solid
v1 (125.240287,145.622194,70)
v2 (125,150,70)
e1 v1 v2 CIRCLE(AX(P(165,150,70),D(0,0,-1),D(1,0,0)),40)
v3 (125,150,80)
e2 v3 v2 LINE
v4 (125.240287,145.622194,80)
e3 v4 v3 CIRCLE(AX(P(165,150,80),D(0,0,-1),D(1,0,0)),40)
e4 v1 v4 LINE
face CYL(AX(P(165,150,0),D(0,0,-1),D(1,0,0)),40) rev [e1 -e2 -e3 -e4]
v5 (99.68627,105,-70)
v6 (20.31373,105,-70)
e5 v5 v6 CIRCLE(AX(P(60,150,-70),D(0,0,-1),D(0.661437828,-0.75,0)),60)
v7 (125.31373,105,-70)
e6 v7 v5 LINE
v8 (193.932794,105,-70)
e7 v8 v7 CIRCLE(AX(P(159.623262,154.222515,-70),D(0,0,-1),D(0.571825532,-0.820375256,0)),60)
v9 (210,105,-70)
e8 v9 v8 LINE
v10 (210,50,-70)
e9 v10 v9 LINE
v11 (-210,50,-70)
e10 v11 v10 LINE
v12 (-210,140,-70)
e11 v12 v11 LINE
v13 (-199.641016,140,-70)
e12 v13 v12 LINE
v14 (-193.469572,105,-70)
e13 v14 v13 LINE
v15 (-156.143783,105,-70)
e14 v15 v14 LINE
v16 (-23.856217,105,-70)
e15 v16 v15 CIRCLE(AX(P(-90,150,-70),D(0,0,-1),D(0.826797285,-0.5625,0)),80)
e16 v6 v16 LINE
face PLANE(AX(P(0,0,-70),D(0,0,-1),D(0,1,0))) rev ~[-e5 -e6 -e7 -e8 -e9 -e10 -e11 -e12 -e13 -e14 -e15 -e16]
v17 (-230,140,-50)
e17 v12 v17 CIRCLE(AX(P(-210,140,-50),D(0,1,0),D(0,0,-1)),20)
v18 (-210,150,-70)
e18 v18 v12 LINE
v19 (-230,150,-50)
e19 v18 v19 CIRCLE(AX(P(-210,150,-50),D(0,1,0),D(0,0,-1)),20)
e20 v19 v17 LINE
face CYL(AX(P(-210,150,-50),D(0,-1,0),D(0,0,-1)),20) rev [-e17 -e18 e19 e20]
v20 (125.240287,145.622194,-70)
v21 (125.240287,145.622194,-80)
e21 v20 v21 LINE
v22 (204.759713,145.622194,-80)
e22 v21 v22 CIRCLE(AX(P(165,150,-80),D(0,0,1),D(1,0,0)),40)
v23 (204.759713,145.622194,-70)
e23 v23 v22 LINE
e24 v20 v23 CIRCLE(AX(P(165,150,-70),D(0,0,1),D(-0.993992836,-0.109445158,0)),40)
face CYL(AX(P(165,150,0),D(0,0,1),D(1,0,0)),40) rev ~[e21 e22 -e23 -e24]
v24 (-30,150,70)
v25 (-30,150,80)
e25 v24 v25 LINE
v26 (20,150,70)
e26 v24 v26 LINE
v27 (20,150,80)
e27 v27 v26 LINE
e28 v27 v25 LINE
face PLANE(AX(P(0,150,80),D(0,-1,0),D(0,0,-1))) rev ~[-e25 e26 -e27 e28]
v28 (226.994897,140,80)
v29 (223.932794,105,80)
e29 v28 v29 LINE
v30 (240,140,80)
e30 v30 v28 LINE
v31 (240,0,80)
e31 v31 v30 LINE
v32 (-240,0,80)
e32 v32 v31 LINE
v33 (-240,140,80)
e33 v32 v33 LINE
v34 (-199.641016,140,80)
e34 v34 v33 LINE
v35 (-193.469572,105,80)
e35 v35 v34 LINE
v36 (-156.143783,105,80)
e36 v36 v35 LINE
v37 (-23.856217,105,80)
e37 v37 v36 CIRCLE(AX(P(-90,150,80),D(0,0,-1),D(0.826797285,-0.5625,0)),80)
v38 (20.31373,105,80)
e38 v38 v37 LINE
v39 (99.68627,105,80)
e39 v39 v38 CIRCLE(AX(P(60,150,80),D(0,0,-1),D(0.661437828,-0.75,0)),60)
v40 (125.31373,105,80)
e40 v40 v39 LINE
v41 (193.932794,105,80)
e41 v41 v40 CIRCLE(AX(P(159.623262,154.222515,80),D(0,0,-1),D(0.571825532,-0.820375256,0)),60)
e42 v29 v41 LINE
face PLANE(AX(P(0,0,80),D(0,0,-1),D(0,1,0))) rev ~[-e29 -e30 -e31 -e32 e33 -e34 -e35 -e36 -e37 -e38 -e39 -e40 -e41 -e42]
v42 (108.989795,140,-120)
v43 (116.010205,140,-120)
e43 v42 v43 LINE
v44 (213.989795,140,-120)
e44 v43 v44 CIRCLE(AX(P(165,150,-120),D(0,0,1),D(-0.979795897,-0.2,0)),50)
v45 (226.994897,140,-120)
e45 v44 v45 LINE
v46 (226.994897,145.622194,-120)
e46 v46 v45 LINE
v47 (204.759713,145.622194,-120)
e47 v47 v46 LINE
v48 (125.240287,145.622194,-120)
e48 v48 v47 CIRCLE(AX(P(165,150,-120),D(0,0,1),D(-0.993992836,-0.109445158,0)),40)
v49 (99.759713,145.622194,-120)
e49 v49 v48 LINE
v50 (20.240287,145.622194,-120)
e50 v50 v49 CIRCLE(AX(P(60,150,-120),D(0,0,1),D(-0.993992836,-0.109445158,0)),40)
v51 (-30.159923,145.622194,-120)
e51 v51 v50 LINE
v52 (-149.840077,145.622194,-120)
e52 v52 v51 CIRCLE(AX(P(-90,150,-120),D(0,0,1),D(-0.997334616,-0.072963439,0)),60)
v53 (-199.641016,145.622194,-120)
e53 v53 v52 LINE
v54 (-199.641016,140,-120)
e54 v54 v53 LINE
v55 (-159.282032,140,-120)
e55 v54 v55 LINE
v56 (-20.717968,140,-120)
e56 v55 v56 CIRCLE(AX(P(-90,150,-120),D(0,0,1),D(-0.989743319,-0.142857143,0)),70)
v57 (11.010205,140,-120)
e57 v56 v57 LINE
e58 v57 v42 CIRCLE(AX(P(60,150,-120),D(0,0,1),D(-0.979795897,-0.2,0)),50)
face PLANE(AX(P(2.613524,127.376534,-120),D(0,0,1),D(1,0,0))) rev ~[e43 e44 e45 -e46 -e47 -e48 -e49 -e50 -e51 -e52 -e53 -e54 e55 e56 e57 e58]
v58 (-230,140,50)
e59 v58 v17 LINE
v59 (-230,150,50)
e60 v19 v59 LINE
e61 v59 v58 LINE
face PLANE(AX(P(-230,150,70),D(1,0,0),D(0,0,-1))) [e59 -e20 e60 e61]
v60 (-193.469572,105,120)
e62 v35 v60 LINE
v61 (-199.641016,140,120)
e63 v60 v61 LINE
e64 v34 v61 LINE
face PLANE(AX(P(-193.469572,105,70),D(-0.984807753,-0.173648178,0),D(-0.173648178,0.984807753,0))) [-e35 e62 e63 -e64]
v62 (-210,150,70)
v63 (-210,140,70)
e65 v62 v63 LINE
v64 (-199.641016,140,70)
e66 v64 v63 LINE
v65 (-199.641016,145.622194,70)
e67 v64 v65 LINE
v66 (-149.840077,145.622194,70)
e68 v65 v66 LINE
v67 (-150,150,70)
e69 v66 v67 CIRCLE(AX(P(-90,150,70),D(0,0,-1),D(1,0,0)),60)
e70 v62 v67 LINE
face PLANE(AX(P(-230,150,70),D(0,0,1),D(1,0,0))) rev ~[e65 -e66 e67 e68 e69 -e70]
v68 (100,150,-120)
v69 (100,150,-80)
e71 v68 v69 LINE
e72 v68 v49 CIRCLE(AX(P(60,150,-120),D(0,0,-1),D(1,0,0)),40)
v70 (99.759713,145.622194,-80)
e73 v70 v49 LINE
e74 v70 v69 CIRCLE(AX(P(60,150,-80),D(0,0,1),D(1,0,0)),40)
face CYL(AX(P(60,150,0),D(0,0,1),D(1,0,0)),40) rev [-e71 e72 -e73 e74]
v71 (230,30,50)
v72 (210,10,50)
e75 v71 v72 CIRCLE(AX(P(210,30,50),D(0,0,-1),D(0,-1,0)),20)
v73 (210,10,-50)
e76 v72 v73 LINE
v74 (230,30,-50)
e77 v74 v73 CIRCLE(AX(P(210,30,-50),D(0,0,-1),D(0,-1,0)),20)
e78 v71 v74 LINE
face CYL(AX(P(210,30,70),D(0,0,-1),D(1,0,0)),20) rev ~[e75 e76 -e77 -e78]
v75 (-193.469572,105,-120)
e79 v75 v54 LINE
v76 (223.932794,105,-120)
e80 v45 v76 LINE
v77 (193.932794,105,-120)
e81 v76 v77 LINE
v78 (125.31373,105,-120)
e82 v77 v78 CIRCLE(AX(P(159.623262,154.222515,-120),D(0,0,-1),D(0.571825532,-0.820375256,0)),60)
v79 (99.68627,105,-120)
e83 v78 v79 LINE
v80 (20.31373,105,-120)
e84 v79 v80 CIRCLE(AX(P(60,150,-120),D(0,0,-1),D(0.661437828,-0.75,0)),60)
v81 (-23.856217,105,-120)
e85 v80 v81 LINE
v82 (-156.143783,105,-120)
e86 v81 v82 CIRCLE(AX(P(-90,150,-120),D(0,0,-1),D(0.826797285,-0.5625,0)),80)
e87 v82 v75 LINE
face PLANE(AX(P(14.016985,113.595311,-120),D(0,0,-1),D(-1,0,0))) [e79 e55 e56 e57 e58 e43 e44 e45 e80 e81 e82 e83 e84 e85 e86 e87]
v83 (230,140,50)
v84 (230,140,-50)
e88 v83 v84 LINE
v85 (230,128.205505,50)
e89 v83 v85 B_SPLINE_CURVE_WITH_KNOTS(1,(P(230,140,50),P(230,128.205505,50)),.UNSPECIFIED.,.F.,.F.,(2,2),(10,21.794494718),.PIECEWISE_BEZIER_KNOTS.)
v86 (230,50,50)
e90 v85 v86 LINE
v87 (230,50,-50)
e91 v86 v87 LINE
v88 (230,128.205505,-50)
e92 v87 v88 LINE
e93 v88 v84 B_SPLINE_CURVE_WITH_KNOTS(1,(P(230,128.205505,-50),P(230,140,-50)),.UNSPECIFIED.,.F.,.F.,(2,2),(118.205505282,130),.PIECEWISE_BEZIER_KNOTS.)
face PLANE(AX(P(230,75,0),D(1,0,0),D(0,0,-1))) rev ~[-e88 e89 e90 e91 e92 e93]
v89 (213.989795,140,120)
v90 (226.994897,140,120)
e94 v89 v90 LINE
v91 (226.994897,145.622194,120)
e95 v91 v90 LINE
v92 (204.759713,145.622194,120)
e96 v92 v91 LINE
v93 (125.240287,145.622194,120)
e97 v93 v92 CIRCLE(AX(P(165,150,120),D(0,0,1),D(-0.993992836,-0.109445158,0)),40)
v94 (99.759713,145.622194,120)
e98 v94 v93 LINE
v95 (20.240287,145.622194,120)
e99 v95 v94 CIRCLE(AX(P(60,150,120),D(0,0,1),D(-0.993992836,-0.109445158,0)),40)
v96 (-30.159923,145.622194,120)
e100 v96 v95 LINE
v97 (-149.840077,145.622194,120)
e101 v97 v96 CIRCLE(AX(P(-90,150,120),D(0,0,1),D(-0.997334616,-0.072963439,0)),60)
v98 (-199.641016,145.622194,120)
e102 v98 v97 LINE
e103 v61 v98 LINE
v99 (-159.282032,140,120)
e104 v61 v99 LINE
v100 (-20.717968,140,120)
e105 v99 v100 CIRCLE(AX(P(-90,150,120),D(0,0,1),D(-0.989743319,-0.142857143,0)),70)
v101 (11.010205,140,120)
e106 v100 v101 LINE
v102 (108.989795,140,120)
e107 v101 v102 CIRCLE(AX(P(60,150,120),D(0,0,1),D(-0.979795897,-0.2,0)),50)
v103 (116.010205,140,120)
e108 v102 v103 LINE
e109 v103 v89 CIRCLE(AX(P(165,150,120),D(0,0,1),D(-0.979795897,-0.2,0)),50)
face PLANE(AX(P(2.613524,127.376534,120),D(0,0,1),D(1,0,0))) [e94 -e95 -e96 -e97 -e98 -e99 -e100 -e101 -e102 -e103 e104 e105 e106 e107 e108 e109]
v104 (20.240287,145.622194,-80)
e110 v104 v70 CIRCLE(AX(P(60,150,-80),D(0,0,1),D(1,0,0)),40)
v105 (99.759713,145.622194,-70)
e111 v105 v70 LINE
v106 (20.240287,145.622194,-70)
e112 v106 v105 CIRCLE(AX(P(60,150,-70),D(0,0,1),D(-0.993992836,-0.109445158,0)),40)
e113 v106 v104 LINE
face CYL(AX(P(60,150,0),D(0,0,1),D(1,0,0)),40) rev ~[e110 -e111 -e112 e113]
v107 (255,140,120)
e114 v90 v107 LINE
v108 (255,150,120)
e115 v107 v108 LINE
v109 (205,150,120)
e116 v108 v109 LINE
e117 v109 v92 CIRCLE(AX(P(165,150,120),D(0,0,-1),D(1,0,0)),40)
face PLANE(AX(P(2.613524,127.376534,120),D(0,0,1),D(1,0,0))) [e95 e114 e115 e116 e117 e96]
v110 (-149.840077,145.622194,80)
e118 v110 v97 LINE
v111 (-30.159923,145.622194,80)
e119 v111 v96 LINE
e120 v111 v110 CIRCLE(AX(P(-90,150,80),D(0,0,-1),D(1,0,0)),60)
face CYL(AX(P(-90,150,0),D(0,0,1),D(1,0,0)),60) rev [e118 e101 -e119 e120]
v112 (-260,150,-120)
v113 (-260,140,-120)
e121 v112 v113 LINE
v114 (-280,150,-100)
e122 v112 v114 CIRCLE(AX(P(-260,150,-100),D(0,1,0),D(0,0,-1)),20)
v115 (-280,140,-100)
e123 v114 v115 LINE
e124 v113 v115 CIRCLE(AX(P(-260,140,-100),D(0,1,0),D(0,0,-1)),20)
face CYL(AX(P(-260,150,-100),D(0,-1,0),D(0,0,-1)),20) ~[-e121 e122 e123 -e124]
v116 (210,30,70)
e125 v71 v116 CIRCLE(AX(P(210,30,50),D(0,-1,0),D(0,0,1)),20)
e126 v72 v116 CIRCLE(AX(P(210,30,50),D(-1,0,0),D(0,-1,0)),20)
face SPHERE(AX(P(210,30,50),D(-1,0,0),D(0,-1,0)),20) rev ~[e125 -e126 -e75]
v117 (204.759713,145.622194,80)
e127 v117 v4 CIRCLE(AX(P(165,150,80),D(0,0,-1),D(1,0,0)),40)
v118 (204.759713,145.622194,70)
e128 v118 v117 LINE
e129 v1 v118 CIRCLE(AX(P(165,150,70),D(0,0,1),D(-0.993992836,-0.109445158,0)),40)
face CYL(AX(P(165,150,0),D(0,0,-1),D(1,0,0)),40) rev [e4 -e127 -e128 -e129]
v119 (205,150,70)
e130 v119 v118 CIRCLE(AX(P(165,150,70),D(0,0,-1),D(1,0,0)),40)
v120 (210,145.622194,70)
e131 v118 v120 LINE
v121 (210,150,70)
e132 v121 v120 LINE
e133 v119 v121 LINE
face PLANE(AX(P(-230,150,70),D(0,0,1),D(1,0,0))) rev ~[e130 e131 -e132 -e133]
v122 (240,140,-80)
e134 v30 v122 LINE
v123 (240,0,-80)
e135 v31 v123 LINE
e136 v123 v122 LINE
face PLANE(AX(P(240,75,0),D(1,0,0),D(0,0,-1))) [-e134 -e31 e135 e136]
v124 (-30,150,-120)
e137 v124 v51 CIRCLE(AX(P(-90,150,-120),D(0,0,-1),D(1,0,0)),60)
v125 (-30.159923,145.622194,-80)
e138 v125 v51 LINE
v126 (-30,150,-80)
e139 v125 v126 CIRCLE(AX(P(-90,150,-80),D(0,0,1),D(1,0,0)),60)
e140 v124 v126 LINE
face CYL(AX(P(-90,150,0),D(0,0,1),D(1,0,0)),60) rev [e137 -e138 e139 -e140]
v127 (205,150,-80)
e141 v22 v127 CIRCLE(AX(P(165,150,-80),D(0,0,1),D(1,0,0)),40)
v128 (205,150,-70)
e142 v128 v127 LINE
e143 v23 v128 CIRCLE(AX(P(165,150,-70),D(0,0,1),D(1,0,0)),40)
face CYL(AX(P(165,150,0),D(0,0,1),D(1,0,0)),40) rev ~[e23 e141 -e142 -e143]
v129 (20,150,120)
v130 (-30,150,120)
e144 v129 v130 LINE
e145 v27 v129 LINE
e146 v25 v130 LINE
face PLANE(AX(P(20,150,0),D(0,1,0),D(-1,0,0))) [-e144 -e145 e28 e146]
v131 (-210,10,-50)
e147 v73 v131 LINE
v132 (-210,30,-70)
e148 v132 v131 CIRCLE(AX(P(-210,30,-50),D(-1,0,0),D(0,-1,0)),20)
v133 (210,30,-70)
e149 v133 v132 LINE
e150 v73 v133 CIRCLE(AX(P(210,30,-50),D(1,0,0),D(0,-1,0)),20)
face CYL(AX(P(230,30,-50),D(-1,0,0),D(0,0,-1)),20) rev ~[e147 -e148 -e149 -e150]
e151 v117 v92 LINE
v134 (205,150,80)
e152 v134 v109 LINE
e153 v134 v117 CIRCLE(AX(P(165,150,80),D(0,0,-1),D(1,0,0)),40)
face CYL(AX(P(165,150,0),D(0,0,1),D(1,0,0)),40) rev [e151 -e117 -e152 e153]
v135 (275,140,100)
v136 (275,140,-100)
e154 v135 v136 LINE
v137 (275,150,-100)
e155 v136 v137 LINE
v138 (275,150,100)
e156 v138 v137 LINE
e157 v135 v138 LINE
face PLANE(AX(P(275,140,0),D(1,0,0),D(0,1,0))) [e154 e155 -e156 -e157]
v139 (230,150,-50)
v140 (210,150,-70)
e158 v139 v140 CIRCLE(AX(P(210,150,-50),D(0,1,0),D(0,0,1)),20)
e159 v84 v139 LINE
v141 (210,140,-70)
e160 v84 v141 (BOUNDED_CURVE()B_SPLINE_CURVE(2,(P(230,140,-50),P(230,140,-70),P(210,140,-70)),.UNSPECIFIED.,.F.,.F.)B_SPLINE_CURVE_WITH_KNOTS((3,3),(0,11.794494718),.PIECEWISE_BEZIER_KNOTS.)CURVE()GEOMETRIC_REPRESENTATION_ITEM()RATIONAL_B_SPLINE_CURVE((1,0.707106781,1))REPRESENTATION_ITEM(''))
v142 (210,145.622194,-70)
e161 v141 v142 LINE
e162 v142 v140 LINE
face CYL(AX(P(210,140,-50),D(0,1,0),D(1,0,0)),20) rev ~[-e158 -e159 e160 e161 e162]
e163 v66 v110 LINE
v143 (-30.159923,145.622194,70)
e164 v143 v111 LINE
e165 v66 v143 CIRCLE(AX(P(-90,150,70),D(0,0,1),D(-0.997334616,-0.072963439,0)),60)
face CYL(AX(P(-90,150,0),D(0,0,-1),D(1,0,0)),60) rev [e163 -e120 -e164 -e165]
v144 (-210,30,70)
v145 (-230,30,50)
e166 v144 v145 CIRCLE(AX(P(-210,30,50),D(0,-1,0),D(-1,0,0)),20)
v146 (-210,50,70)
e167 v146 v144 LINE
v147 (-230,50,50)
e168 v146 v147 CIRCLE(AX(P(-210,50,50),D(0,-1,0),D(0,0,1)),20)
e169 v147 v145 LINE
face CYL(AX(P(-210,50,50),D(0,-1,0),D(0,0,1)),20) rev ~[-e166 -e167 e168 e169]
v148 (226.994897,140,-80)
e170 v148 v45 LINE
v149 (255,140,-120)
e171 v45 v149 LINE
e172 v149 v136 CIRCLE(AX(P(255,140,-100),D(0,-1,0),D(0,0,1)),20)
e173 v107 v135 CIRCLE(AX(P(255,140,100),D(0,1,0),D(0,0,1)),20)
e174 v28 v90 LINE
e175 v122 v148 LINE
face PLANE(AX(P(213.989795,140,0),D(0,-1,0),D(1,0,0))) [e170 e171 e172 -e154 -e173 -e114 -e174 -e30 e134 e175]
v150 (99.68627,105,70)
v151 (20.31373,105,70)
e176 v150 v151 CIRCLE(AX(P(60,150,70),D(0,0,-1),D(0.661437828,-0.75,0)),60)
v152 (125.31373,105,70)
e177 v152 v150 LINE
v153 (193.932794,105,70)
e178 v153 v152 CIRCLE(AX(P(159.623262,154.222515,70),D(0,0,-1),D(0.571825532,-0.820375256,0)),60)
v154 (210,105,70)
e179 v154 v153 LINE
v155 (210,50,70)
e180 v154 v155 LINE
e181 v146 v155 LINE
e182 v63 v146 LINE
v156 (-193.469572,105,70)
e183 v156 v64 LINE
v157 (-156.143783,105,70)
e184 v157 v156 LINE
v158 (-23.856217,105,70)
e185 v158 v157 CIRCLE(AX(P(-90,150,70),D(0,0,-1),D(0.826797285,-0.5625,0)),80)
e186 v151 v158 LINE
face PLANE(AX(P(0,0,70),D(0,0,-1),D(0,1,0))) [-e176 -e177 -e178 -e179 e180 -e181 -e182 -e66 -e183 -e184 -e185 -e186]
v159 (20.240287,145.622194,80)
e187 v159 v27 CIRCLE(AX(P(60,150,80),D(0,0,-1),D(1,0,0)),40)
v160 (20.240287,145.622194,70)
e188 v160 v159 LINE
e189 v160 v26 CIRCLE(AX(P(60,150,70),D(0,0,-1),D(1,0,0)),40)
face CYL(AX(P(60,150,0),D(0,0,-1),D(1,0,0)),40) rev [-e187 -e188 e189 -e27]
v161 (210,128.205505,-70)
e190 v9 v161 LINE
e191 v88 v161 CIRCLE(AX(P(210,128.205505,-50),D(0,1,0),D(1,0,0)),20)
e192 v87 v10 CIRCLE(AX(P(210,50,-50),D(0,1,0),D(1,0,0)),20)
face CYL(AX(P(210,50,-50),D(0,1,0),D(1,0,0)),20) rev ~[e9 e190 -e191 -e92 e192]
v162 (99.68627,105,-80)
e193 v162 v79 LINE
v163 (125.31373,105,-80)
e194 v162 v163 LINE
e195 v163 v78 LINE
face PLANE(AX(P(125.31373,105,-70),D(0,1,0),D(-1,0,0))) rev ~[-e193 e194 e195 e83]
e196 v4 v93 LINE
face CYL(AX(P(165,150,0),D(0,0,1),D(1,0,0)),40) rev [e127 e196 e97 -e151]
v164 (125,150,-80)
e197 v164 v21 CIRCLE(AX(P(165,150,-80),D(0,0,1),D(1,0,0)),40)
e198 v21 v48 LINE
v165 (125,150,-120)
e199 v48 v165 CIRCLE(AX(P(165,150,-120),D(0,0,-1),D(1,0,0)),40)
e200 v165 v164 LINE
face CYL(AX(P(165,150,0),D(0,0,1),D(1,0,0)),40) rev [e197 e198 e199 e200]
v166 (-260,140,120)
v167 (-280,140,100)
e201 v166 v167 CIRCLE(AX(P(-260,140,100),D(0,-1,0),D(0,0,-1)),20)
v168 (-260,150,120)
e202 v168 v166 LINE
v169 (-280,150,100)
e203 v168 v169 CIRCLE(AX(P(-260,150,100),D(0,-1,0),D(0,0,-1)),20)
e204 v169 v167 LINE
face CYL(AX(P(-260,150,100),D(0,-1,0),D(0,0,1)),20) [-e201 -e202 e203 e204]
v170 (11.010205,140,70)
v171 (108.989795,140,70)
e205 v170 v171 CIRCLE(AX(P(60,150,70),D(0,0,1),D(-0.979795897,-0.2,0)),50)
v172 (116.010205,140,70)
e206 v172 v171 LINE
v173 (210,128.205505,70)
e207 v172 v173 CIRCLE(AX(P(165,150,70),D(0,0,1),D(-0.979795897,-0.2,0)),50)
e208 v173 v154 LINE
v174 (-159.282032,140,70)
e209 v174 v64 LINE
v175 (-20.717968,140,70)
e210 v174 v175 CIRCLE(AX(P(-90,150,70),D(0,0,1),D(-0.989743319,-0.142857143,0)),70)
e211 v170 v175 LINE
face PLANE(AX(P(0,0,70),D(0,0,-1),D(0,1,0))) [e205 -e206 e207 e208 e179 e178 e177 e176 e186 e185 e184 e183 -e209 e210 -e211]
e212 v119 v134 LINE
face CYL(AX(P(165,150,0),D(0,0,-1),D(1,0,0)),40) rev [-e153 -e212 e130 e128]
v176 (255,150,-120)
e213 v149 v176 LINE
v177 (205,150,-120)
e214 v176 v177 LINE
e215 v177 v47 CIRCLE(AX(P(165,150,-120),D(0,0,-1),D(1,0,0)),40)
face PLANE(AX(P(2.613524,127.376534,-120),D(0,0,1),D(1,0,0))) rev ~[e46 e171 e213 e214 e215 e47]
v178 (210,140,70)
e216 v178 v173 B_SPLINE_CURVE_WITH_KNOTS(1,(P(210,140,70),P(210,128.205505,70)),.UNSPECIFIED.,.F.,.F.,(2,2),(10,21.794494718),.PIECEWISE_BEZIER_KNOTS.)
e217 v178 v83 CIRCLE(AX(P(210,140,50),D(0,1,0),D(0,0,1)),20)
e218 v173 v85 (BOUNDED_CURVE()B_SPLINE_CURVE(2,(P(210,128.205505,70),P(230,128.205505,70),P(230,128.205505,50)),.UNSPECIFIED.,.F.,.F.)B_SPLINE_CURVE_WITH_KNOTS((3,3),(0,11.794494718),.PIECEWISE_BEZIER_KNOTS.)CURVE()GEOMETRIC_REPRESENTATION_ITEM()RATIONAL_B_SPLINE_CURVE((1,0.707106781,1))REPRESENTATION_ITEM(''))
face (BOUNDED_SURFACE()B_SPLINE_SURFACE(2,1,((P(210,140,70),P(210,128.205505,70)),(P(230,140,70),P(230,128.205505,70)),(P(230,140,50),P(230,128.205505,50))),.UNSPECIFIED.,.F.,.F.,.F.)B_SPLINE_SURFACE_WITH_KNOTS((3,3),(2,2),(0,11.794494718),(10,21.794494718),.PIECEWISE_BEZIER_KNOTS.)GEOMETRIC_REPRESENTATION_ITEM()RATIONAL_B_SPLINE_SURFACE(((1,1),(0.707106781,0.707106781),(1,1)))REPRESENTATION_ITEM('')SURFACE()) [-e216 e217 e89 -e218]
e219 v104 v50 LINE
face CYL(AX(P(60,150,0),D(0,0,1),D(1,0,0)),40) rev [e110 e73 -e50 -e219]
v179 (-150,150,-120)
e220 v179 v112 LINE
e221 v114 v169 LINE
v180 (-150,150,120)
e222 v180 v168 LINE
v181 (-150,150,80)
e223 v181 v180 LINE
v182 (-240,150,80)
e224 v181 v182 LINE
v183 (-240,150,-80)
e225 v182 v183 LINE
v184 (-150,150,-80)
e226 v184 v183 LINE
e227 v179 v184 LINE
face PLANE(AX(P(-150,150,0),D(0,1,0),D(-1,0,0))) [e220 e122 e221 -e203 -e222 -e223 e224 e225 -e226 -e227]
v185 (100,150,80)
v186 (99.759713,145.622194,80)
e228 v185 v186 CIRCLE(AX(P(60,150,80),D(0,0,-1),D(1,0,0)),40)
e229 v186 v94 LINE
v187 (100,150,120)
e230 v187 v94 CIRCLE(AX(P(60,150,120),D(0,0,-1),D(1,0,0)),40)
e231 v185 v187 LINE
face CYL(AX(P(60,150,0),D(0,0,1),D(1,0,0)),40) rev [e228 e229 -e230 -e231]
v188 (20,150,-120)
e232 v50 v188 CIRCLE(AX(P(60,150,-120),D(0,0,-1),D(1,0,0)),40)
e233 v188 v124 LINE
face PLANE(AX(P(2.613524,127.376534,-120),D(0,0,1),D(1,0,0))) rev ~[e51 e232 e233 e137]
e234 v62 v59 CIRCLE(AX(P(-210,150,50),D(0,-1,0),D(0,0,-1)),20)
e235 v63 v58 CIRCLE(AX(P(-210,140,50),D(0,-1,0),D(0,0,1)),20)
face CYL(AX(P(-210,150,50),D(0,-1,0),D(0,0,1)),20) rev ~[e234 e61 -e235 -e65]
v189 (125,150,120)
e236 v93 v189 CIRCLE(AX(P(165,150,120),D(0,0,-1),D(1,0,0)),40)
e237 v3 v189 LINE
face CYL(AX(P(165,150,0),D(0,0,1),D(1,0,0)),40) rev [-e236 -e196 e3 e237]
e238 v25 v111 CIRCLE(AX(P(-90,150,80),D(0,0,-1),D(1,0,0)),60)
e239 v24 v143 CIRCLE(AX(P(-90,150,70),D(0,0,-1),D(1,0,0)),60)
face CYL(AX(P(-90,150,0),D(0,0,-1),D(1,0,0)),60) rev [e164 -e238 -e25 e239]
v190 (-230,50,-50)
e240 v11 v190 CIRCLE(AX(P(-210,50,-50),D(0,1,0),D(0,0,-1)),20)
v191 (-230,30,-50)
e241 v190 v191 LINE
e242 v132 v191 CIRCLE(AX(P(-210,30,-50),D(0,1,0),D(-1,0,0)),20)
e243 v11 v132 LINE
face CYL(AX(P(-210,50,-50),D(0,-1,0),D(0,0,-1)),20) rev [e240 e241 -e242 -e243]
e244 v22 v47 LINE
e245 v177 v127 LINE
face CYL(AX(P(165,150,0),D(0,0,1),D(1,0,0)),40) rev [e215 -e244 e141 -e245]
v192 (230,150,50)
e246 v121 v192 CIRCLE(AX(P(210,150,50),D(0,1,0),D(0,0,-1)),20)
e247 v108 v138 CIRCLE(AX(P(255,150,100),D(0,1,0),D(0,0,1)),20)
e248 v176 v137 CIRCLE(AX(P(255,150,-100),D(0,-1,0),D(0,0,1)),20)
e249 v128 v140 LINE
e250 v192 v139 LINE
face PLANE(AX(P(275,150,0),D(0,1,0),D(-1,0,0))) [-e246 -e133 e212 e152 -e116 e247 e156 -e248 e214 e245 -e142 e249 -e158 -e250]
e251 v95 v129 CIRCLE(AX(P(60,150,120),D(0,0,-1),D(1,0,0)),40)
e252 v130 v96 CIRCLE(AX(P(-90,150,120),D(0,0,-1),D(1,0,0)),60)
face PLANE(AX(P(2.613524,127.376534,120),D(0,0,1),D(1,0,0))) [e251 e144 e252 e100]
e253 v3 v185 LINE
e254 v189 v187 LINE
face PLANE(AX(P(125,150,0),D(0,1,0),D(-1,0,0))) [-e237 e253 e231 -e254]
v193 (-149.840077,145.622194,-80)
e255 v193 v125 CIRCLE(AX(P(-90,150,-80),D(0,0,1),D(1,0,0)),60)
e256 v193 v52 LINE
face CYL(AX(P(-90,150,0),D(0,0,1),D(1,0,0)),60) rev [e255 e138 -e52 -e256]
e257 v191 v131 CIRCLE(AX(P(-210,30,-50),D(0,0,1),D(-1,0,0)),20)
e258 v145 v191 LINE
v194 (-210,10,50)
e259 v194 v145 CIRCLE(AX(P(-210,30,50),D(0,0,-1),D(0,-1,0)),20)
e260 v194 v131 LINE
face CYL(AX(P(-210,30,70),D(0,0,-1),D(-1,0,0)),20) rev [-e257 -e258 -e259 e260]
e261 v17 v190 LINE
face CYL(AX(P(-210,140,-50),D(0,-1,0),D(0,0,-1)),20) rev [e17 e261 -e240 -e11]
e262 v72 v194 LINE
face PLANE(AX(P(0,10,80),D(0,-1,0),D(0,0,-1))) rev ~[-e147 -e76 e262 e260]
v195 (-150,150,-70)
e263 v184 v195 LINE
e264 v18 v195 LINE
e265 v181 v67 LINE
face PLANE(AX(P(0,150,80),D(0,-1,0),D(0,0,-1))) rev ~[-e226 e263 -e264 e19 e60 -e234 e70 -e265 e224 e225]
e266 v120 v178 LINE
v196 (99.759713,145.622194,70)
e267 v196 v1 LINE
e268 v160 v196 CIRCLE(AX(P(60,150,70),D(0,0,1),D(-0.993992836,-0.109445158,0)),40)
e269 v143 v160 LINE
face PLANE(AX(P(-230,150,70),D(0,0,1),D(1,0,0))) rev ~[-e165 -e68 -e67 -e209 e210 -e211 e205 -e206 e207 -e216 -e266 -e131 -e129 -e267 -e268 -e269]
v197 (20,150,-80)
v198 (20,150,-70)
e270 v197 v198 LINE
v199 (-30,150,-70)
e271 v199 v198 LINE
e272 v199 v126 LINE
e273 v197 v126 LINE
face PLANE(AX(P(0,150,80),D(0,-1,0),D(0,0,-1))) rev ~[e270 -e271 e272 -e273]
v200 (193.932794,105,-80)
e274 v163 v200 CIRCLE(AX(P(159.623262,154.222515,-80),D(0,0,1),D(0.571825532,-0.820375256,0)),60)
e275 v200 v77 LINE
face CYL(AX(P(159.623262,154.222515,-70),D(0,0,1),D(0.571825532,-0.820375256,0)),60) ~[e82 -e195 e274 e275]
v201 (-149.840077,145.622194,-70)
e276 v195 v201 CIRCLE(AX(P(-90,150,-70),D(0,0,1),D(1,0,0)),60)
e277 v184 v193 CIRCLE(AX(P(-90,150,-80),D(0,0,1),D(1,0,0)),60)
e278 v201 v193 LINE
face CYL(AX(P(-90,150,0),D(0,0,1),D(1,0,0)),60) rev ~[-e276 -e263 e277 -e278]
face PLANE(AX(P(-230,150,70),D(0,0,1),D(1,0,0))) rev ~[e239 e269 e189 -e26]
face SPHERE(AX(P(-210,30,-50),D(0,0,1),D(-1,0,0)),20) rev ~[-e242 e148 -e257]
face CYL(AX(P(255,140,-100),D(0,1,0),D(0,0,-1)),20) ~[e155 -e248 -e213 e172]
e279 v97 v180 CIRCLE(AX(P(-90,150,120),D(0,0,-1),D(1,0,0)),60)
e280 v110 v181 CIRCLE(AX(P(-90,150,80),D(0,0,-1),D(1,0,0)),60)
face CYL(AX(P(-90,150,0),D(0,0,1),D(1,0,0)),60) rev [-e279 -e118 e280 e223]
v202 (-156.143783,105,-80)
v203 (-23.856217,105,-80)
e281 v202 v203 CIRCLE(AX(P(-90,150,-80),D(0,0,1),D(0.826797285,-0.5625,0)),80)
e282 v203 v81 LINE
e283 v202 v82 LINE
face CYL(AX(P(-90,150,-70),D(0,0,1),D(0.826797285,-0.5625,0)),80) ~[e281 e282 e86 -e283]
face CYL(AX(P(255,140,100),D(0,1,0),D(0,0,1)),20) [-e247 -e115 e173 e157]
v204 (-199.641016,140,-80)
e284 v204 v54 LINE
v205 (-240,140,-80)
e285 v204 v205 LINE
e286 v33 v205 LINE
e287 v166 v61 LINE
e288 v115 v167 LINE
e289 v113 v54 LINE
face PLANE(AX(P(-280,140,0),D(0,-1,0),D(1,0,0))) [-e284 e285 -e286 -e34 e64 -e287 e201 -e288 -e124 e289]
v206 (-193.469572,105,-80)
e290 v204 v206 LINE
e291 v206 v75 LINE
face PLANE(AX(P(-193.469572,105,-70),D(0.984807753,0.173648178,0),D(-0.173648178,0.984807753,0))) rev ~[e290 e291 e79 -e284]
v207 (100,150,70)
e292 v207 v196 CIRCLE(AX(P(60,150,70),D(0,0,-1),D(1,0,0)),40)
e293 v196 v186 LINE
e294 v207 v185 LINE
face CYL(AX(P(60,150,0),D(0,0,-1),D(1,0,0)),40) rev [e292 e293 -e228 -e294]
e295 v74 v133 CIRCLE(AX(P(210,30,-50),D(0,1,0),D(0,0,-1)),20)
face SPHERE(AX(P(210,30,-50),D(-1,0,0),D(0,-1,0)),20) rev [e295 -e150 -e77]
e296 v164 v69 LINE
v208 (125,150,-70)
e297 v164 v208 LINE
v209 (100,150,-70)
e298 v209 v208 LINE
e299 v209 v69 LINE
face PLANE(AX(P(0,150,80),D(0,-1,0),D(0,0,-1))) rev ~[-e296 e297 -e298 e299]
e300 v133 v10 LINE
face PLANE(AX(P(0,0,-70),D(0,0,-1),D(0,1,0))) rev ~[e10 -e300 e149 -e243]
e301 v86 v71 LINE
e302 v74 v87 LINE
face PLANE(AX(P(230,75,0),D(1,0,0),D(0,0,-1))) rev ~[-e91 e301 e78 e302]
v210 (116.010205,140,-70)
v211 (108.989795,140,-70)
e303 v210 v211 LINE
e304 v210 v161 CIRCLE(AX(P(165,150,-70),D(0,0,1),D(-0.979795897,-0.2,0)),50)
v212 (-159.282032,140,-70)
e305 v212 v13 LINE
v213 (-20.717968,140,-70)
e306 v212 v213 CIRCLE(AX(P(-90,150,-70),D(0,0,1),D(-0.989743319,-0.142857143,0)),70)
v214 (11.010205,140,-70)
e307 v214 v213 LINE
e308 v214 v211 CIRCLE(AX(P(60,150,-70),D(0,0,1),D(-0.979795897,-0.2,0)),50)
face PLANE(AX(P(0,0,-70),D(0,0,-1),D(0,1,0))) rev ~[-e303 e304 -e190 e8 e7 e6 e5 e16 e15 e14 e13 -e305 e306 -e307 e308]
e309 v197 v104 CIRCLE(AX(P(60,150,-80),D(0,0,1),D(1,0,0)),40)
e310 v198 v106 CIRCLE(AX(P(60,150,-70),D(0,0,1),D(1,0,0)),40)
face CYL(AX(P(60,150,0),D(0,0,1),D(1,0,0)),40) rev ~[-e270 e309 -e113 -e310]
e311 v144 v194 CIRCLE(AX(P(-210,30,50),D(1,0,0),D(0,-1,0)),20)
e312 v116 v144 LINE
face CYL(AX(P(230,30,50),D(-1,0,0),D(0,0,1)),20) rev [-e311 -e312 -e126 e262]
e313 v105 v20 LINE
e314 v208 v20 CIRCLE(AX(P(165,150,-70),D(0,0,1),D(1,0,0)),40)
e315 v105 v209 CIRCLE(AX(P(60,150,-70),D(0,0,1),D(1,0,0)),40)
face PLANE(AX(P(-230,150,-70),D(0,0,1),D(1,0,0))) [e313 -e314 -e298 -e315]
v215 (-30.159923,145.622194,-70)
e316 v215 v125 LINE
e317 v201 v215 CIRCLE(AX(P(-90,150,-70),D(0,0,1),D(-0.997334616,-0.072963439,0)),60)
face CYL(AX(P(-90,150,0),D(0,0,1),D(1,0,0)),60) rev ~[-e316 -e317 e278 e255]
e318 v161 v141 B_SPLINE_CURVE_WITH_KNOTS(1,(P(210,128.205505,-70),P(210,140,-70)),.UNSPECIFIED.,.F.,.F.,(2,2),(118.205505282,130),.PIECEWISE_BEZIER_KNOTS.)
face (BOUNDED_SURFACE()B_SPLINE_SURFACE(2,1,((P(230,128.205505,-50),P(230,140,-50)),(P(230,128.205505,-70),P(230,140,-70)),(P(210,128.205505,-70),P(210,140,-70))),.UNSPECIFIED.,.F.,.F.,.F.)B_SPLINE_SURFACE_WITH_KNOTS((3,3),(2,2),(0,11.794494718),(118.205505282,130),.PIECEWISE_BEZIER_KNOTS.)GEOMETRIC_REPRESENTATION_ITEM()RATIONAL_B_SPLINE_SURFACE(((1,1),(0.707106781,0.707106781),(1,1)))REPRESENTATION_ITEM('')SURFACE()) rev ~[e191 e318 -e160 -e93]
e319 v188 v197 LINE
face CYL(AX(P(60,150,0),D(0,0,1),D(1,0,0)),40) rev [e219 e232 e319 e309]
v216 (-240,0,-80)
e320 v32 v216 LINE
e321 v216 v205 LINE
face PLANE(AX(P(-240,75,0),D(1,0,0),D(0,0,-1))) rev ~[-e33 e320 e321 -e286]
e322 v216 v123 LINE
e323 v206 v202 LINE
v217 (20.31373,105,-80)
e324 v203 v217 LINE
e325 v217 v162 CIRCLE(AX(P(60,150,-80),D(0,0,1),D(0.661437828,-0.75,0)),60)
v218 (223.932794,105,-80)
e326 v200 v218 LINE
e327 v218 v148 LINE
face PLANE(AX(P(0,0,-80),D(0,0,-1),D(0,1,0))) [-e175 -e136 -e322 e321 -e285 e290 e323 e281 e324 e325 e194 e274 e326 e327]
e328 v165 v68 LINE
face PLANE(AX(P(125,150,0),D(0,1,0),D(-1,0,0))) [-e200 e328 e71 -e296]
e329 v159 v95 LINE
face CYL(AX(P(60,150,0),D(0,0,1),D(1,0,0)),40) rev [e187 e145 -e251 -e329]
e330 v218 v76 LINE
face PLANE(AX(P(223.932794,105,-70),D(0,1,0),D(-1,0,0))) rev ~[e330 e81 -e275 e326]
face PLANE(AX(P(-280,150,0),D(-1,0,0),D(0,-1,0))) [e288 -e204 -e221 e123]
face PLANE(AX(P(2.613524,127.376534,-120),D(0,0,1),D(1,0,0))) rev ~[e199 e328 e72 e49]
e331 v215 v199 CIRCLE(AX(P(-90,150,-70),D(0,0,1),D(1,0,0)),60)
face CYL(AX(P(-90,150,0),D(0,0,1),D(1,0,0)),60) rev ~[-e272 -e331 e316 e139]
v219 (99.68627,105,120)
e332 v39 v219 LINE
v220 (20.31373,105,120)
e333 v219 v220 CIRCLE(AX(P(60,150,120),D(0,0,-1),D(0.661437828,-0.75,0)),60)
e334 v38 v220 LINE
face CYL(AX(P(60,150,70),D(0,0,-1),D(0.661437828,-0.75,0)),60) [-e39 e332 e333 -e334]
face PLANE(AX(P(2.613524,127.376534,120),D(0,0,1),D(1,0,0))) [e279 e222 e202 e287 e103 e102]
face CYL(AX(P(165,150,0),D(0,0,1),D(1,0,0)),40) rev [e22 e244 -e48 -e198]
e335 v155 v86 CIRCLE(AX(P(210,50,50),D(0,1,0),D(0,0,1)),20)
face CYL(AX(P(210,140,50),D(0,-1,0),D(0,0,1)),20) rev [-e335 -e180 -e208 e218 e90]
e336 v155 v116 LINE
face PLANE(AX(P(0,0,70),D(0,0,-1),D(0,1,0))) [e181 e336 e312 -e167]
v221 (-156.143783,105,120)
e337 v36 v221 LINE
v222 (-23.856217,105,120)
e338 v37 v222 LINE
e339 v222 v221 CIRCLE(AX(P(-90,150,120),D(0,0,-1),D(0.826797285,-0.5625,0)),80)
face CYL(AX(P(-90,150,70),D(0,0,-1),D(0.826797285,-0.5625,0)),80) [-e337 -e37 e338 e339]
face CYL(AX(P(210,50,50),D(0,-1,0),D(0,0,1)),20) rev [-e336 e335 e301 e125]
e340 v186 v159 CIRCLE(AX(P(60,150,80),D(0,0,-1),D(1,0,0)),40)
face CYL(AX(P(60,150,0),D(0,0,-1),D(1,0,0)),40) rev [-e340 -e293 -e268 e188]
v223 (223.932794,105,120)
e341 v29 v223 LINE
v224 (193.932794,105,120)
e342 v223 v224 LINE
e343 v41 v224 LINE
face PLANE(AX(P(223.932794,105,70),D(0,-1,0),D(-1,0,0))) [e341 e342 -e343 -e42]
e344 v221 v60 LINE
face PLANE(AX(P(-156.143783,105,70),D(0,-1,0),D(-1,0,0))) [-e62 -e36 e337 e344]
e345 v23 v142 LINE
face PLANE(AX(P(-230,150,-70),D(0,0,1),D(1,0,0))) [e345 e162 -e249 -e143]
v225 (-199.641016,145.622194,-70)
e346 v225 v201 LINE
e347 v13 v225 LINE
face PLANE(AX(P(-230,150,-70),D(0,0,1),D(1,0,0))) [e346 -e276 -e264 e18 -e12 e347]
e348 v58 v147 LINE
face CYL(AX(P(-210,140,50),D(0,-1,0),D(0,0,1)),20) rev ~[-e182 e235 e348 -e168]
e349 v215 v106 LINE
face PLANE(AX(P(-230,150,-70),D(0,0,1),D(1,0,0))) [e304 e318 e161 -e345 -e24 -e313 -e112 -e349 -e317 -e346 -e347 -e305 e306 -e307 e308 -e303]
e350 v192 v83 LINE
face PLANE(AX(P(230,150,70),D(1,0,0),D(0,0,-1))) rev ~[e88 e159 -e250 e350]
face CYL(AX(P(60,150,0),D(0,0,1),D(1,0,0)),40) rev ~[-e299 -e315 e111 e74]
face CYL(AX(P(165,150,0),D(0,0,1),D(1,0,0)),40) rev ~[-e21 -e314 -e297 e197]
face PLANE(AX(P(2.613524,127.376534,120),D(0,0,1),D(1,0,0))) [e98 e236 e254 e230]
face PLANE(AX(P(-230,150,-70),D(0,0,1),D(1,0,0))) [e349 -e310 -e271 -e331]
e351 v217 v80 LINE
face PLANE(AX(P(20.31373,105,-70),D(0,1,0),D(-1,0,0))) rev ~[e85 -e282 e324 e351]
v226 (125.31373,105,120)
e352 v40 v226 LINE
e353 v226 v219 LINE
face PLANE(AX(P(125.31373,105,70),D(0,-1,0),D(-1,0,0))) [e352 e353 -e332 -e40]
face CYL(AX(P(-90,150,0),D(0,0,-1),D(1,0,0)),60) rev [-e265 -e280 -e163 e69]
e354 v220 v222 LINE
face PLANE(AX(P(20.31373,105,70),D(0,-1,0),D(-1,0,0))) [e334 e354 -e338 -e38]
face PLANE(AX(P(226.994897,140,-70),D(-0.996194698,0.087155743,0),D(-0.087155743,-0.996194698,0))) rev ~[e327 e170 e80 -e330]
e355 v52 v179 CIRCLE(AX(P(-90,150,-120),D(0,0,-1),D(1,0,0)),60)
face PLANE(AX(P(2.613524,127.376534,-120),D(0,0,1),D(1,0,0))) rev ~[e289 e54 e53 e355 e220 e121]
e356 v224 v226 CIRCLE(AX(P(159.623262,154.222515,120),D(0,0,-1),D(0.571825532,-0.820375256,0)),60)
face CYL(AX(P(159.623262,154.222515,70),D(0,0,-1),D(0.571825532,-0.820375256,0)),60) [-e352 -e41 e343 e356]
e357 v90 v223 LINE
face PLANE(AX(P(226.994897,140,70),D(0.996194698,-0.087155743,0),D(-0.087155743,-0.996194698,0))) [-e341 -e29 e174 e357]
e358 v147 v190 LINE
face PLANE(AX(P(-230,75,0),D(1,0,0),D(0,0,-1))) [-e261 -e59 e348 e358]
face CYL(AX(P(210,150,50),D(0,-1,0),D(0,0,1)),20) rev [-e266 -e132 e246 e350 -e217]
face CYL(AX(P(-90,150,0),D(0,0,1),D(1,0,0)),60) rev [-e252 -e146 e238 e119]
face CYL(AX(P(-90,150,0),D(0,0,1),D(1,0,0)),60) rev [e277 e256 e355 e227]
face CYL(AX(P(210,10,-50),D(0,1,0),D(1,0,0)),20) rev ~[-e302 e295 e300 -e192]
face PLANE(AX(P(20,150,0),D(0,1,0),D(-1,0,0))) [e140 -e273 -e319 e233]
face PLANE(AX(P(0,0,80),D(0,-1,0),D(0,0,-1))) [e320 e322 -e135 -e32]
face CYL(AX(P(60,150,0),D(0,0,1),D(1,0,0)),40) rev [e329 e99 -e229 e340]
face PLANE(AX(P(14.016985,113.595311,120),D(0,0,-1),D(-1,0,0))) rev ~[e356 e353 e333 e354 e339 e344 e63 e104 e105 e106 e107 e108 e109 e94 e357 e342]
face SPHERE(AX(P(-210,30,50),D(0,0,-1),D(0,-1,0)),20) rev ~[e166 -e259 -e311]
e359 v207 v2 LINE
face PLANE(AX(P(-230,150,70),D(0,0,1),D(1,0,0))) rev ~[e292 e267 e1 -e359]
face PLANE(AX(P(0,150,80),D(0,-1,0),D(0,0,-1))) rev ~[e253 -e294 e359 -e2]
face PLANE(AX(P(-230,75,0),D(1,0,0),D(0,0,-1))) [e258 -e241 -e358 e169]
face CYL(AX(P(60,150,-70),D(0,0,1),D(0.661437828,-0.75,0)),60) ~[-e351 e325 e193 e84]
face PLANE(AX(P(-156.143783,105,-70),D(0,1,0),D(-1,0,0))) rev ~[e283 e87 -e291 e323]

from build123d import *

# Parameters (mm, degrees)
SKETCH1_W               = 160
SKETCH1_H               = 150
BOSS_EXTRUDE1_DEPTH     = 240
SHELL1_T                = -10
SKETCH2_R               = 60
SKETCH2_R_2             = 40
CUT_EXTRUDE1_DEPTH      = 81
CUT_EXTRUDE1_DEPTH_BACK = 81
EXTRUDE_THIN1_DEPTH     = 120
SKETCH4_W               = 460
SKETCH4_H               = 140
CUT_EXTRUDE2_DEPTH      = 100
FILLET1_R               = 20
FILLET2_R               = 20
BOSS_EXTRUDE2_START     = 70
BOSS_EXTRUDE2_DEPTH     = 50
BOSS_EXTRUDE3_START     = -70
BOSS_EXTRUDE3_DEPTH     = 50


with BuildPart() as part:
    # Sketch1 → Boss-Extrude1 (new body, symmetric)
    with BuildSketch(Plane(origin=(0, 0, 0), x_dir=(0, 0, -1), z_dir=(1, 0, 0))):
        with Locations((0, 75)):
            Rectangle(SKETCH1_W, SKETCH1_H)
    extrude(amount=BOSS_EXTRUDE1_DEPTH, both=True)

    # Shell1
    shell1_openings = [part.faces().sort_by_distance(p)[0] for p in [
        (0, 150, 0),
    ]]
    offset(amount=SHELL1_T, openings=shell1_openings, kind=Kind.INTERSECTION)

    # Sketch2 → Cut-Extrude1 (cut, two sides)
    with BuildSketch(Plane.XY) as cut_extrude1_sk:
        with Locations((-90, 150)):
            Circle(SKETCH2_R)
        with Locations((60, 150)):
            Circle(SKETCH2_R_2)
        with Locations((165, 150)):
            Circle(SKETCH2_R_2)
    extrude(amount=CUT_EXTRUDE1_DEPTH, mode=Mode.SUBTRACT)
    extrude(cut_extrude1_sk.sketch, amount=-CUT_EXTRUDE1_DEPTH_BACK, mode=Mode.SUBTRACT)

    # Sketch3 → Extrude-Thin1 (add, symmetric)
    with BuildSketch(Plane.XY):
        with BuildLine():
            Line((275, 150), (205, 150))
            ThreePointArc((205, 150), (165, 110), (125, 150))
            Line((125, 150), (100, 150))
            ThreePointArc((100, 150), (60, 110), (20, 150))
            Line((20, 150), (-30, 150))
            ThreePointArc((-30, 150), (-90, 90), (-150, 150))
            Line((-150, 150), (-280, 150))
            Line((-280, 150), (-280, 140))
            Line((-280, 140), (-159.282032303, 140))
            ThreePointArc((-159.282032303, 140), (-90, 80), (-20.717967697, 140))
            Line((-20.717967697, 140), (11.010205144, 140))
            ThreePointArc((11.010205144, 140), (60, 100), (108.989794856, 140))
            Line((108.989794856, 140), (116.010205144, 140))
            ThreePointArc((116.010205144, 140), (165, 100), (213.989794856, 140))
            Line((213.989794856, 140), (275, 140))
            Line((275, 140), (275, 150))
        make_face()
    extrude(amount=EXTRUDE_THIN1_DEPTH, both=True)

    # Sketch4 → Cut-Extrude2 (cut)
    with BuildSketch(Plane(origin=(0, 150, 0), x_dir=(1, 0, 0), z_dir=(0, 1, 0))):
        Rectangle(SKETCH4_W, SKETCH4_H)
    extrude(amount=-CUT_EXTRUDE2_DEPTH, mode=Mode.SUBTRACT)

    # Fillet1
    fillet1_edges = [part.edges().sort_by_distance(p)[0] for p in [
        (275, 145, 120),
        (-280, 145, 120),
        (-280, 145, -120),
        (275, 145, -120),
    ]]
    fillet(fillet1_edges, radius=FILLET1_R)

    # Fillet2
    fillet2_edges = [part.edges().sort_by_distance(p)[0] for p in [
        (-230, 10, 0),
        (0, 10, 70),
        (-230, 80, -70),
        (0, 10, -70),
        (230, 10, 0),
        (230, 80, -70),
        (-230, 80, 70),
        (230, 80, 70),
    ]]
    fillet(fillet2_edges, radius=FILLET2_R)

    # Sketch5 → Boss-Extrude2 (add)
    with BuildSketch(Plane.XY.offset(BOSS_EXTRUDE2_START)):
        with BuildLine():
            Line((226.994897428, 140), (223.932794204, 105))
            Line((223.932794204, 105), (193.932794204, 105))
            ThreePointArc((193.932794204, 105), (159.623262269, 94.22251536), (125.313730334, 105))
            Line((125.313730334, 105), (99.686269666, 105))
            ThreePointArc((99.686269666, 105), (60, 90), (20.313730334, 105))
            Line((20.313730334, 105), (-23.856217223, 105))
            ThreePointArc((-23.856217223, 105), (-90, 70), (-156.143782777, 105))
            Line((-156.143782777, 105), (-193.469571827, 105))
            Line((-193.469571827, 105), (-199.641016151, 140))
            Line((-199.641016151, 140), (-199.641016151, 145.622193668))
            Line((-199.641016151, 145.622193668), (-149.84007697, 145.622193668))
            ThreePointArc((-149.84007697, 145.622193668), (-90, 90), (-30.15992303, 145.622193668))
            Line((-30.15992303, 145.622193668), (20.240286574, 145.622193668))
            ThreePointArc((20.240286574, 145.622193668), (60, 110), (99.759713426, 145.622193668))
            Line((99.759713426, 145.622193668), (125.240286574, 145.622193668))
            ThreePointArc((125.240286574, 145.622193668), (165, 110), (204.759713426, 145.622193668))
            Line((204.759713426, 145.622193668), (226.994897428, 145.622193668))
            Line((226.994897428, 145.622193668), (226.994897428, 140))
        make_face()
    extrude(amount=BOSS_EXTRUDE2_DEPTH)

    # Sketch5_3 → Boss-Extrude3 (add)
    with BuildSketch(Plane.XY.offset(BOSS_EXTRUDE3_START)):
        with BuildLine():
            Line((226.994897428, 140), (223.932794204, 105))
            Line((223.932794204, 105), (193.932794204, 105))
            ThreePointArc((193.932794204, 105), (159.623262269, 94.22251536), (125.313730334, 105))
            Line((125.313730334, 105), (99.686269666, 105))
            ThreePointArc((99.686269666, 105), (60, 90), (20.313730334, 105))
            Line((20.313730334, 105), (-23.856217223, 105))
            ThreePointArc((-23.856217223, 105), (-90, 70), (-156.143782777, 105))
            Line((-156.143782777, 105), (-193.469571827, 105))
            Line((-193.469571827, 105), (-199.641016151, 140))
            Line((-199.641016151, 140), (-199.641016151, 145.622193668))
            Line((-199.641016151, 145.622193668), (-149.84007697, 145.622193668))
            ThreePointArc((-149.84007697, 145.622193668), (-90, 90), (-30.15992303, 145.622193668))
            Line((-30.15992303, 145.622193668), (20.240286574, 145.622193668))
            ThreePointArc((20.240286574, 145.622193668), (60, 110), (99.759713426, 145.622193668))
            Line((99.759713426, 145.622193668), (125.240286574, 145.622193668))
            ThreePointArc((125.240286574, 145.622193668), (165, 110), (204.759713426, 145.622193668))
            Line((204.759713426, 145.622193668), (226.994897428, 145.622193668))
            Line((226.994897428, 145.622193668), (226.994897428, 140))
        make_face()
    extrude(amount=-BOSS_EXTRUDE3_DEPTH)


solid = part.part
